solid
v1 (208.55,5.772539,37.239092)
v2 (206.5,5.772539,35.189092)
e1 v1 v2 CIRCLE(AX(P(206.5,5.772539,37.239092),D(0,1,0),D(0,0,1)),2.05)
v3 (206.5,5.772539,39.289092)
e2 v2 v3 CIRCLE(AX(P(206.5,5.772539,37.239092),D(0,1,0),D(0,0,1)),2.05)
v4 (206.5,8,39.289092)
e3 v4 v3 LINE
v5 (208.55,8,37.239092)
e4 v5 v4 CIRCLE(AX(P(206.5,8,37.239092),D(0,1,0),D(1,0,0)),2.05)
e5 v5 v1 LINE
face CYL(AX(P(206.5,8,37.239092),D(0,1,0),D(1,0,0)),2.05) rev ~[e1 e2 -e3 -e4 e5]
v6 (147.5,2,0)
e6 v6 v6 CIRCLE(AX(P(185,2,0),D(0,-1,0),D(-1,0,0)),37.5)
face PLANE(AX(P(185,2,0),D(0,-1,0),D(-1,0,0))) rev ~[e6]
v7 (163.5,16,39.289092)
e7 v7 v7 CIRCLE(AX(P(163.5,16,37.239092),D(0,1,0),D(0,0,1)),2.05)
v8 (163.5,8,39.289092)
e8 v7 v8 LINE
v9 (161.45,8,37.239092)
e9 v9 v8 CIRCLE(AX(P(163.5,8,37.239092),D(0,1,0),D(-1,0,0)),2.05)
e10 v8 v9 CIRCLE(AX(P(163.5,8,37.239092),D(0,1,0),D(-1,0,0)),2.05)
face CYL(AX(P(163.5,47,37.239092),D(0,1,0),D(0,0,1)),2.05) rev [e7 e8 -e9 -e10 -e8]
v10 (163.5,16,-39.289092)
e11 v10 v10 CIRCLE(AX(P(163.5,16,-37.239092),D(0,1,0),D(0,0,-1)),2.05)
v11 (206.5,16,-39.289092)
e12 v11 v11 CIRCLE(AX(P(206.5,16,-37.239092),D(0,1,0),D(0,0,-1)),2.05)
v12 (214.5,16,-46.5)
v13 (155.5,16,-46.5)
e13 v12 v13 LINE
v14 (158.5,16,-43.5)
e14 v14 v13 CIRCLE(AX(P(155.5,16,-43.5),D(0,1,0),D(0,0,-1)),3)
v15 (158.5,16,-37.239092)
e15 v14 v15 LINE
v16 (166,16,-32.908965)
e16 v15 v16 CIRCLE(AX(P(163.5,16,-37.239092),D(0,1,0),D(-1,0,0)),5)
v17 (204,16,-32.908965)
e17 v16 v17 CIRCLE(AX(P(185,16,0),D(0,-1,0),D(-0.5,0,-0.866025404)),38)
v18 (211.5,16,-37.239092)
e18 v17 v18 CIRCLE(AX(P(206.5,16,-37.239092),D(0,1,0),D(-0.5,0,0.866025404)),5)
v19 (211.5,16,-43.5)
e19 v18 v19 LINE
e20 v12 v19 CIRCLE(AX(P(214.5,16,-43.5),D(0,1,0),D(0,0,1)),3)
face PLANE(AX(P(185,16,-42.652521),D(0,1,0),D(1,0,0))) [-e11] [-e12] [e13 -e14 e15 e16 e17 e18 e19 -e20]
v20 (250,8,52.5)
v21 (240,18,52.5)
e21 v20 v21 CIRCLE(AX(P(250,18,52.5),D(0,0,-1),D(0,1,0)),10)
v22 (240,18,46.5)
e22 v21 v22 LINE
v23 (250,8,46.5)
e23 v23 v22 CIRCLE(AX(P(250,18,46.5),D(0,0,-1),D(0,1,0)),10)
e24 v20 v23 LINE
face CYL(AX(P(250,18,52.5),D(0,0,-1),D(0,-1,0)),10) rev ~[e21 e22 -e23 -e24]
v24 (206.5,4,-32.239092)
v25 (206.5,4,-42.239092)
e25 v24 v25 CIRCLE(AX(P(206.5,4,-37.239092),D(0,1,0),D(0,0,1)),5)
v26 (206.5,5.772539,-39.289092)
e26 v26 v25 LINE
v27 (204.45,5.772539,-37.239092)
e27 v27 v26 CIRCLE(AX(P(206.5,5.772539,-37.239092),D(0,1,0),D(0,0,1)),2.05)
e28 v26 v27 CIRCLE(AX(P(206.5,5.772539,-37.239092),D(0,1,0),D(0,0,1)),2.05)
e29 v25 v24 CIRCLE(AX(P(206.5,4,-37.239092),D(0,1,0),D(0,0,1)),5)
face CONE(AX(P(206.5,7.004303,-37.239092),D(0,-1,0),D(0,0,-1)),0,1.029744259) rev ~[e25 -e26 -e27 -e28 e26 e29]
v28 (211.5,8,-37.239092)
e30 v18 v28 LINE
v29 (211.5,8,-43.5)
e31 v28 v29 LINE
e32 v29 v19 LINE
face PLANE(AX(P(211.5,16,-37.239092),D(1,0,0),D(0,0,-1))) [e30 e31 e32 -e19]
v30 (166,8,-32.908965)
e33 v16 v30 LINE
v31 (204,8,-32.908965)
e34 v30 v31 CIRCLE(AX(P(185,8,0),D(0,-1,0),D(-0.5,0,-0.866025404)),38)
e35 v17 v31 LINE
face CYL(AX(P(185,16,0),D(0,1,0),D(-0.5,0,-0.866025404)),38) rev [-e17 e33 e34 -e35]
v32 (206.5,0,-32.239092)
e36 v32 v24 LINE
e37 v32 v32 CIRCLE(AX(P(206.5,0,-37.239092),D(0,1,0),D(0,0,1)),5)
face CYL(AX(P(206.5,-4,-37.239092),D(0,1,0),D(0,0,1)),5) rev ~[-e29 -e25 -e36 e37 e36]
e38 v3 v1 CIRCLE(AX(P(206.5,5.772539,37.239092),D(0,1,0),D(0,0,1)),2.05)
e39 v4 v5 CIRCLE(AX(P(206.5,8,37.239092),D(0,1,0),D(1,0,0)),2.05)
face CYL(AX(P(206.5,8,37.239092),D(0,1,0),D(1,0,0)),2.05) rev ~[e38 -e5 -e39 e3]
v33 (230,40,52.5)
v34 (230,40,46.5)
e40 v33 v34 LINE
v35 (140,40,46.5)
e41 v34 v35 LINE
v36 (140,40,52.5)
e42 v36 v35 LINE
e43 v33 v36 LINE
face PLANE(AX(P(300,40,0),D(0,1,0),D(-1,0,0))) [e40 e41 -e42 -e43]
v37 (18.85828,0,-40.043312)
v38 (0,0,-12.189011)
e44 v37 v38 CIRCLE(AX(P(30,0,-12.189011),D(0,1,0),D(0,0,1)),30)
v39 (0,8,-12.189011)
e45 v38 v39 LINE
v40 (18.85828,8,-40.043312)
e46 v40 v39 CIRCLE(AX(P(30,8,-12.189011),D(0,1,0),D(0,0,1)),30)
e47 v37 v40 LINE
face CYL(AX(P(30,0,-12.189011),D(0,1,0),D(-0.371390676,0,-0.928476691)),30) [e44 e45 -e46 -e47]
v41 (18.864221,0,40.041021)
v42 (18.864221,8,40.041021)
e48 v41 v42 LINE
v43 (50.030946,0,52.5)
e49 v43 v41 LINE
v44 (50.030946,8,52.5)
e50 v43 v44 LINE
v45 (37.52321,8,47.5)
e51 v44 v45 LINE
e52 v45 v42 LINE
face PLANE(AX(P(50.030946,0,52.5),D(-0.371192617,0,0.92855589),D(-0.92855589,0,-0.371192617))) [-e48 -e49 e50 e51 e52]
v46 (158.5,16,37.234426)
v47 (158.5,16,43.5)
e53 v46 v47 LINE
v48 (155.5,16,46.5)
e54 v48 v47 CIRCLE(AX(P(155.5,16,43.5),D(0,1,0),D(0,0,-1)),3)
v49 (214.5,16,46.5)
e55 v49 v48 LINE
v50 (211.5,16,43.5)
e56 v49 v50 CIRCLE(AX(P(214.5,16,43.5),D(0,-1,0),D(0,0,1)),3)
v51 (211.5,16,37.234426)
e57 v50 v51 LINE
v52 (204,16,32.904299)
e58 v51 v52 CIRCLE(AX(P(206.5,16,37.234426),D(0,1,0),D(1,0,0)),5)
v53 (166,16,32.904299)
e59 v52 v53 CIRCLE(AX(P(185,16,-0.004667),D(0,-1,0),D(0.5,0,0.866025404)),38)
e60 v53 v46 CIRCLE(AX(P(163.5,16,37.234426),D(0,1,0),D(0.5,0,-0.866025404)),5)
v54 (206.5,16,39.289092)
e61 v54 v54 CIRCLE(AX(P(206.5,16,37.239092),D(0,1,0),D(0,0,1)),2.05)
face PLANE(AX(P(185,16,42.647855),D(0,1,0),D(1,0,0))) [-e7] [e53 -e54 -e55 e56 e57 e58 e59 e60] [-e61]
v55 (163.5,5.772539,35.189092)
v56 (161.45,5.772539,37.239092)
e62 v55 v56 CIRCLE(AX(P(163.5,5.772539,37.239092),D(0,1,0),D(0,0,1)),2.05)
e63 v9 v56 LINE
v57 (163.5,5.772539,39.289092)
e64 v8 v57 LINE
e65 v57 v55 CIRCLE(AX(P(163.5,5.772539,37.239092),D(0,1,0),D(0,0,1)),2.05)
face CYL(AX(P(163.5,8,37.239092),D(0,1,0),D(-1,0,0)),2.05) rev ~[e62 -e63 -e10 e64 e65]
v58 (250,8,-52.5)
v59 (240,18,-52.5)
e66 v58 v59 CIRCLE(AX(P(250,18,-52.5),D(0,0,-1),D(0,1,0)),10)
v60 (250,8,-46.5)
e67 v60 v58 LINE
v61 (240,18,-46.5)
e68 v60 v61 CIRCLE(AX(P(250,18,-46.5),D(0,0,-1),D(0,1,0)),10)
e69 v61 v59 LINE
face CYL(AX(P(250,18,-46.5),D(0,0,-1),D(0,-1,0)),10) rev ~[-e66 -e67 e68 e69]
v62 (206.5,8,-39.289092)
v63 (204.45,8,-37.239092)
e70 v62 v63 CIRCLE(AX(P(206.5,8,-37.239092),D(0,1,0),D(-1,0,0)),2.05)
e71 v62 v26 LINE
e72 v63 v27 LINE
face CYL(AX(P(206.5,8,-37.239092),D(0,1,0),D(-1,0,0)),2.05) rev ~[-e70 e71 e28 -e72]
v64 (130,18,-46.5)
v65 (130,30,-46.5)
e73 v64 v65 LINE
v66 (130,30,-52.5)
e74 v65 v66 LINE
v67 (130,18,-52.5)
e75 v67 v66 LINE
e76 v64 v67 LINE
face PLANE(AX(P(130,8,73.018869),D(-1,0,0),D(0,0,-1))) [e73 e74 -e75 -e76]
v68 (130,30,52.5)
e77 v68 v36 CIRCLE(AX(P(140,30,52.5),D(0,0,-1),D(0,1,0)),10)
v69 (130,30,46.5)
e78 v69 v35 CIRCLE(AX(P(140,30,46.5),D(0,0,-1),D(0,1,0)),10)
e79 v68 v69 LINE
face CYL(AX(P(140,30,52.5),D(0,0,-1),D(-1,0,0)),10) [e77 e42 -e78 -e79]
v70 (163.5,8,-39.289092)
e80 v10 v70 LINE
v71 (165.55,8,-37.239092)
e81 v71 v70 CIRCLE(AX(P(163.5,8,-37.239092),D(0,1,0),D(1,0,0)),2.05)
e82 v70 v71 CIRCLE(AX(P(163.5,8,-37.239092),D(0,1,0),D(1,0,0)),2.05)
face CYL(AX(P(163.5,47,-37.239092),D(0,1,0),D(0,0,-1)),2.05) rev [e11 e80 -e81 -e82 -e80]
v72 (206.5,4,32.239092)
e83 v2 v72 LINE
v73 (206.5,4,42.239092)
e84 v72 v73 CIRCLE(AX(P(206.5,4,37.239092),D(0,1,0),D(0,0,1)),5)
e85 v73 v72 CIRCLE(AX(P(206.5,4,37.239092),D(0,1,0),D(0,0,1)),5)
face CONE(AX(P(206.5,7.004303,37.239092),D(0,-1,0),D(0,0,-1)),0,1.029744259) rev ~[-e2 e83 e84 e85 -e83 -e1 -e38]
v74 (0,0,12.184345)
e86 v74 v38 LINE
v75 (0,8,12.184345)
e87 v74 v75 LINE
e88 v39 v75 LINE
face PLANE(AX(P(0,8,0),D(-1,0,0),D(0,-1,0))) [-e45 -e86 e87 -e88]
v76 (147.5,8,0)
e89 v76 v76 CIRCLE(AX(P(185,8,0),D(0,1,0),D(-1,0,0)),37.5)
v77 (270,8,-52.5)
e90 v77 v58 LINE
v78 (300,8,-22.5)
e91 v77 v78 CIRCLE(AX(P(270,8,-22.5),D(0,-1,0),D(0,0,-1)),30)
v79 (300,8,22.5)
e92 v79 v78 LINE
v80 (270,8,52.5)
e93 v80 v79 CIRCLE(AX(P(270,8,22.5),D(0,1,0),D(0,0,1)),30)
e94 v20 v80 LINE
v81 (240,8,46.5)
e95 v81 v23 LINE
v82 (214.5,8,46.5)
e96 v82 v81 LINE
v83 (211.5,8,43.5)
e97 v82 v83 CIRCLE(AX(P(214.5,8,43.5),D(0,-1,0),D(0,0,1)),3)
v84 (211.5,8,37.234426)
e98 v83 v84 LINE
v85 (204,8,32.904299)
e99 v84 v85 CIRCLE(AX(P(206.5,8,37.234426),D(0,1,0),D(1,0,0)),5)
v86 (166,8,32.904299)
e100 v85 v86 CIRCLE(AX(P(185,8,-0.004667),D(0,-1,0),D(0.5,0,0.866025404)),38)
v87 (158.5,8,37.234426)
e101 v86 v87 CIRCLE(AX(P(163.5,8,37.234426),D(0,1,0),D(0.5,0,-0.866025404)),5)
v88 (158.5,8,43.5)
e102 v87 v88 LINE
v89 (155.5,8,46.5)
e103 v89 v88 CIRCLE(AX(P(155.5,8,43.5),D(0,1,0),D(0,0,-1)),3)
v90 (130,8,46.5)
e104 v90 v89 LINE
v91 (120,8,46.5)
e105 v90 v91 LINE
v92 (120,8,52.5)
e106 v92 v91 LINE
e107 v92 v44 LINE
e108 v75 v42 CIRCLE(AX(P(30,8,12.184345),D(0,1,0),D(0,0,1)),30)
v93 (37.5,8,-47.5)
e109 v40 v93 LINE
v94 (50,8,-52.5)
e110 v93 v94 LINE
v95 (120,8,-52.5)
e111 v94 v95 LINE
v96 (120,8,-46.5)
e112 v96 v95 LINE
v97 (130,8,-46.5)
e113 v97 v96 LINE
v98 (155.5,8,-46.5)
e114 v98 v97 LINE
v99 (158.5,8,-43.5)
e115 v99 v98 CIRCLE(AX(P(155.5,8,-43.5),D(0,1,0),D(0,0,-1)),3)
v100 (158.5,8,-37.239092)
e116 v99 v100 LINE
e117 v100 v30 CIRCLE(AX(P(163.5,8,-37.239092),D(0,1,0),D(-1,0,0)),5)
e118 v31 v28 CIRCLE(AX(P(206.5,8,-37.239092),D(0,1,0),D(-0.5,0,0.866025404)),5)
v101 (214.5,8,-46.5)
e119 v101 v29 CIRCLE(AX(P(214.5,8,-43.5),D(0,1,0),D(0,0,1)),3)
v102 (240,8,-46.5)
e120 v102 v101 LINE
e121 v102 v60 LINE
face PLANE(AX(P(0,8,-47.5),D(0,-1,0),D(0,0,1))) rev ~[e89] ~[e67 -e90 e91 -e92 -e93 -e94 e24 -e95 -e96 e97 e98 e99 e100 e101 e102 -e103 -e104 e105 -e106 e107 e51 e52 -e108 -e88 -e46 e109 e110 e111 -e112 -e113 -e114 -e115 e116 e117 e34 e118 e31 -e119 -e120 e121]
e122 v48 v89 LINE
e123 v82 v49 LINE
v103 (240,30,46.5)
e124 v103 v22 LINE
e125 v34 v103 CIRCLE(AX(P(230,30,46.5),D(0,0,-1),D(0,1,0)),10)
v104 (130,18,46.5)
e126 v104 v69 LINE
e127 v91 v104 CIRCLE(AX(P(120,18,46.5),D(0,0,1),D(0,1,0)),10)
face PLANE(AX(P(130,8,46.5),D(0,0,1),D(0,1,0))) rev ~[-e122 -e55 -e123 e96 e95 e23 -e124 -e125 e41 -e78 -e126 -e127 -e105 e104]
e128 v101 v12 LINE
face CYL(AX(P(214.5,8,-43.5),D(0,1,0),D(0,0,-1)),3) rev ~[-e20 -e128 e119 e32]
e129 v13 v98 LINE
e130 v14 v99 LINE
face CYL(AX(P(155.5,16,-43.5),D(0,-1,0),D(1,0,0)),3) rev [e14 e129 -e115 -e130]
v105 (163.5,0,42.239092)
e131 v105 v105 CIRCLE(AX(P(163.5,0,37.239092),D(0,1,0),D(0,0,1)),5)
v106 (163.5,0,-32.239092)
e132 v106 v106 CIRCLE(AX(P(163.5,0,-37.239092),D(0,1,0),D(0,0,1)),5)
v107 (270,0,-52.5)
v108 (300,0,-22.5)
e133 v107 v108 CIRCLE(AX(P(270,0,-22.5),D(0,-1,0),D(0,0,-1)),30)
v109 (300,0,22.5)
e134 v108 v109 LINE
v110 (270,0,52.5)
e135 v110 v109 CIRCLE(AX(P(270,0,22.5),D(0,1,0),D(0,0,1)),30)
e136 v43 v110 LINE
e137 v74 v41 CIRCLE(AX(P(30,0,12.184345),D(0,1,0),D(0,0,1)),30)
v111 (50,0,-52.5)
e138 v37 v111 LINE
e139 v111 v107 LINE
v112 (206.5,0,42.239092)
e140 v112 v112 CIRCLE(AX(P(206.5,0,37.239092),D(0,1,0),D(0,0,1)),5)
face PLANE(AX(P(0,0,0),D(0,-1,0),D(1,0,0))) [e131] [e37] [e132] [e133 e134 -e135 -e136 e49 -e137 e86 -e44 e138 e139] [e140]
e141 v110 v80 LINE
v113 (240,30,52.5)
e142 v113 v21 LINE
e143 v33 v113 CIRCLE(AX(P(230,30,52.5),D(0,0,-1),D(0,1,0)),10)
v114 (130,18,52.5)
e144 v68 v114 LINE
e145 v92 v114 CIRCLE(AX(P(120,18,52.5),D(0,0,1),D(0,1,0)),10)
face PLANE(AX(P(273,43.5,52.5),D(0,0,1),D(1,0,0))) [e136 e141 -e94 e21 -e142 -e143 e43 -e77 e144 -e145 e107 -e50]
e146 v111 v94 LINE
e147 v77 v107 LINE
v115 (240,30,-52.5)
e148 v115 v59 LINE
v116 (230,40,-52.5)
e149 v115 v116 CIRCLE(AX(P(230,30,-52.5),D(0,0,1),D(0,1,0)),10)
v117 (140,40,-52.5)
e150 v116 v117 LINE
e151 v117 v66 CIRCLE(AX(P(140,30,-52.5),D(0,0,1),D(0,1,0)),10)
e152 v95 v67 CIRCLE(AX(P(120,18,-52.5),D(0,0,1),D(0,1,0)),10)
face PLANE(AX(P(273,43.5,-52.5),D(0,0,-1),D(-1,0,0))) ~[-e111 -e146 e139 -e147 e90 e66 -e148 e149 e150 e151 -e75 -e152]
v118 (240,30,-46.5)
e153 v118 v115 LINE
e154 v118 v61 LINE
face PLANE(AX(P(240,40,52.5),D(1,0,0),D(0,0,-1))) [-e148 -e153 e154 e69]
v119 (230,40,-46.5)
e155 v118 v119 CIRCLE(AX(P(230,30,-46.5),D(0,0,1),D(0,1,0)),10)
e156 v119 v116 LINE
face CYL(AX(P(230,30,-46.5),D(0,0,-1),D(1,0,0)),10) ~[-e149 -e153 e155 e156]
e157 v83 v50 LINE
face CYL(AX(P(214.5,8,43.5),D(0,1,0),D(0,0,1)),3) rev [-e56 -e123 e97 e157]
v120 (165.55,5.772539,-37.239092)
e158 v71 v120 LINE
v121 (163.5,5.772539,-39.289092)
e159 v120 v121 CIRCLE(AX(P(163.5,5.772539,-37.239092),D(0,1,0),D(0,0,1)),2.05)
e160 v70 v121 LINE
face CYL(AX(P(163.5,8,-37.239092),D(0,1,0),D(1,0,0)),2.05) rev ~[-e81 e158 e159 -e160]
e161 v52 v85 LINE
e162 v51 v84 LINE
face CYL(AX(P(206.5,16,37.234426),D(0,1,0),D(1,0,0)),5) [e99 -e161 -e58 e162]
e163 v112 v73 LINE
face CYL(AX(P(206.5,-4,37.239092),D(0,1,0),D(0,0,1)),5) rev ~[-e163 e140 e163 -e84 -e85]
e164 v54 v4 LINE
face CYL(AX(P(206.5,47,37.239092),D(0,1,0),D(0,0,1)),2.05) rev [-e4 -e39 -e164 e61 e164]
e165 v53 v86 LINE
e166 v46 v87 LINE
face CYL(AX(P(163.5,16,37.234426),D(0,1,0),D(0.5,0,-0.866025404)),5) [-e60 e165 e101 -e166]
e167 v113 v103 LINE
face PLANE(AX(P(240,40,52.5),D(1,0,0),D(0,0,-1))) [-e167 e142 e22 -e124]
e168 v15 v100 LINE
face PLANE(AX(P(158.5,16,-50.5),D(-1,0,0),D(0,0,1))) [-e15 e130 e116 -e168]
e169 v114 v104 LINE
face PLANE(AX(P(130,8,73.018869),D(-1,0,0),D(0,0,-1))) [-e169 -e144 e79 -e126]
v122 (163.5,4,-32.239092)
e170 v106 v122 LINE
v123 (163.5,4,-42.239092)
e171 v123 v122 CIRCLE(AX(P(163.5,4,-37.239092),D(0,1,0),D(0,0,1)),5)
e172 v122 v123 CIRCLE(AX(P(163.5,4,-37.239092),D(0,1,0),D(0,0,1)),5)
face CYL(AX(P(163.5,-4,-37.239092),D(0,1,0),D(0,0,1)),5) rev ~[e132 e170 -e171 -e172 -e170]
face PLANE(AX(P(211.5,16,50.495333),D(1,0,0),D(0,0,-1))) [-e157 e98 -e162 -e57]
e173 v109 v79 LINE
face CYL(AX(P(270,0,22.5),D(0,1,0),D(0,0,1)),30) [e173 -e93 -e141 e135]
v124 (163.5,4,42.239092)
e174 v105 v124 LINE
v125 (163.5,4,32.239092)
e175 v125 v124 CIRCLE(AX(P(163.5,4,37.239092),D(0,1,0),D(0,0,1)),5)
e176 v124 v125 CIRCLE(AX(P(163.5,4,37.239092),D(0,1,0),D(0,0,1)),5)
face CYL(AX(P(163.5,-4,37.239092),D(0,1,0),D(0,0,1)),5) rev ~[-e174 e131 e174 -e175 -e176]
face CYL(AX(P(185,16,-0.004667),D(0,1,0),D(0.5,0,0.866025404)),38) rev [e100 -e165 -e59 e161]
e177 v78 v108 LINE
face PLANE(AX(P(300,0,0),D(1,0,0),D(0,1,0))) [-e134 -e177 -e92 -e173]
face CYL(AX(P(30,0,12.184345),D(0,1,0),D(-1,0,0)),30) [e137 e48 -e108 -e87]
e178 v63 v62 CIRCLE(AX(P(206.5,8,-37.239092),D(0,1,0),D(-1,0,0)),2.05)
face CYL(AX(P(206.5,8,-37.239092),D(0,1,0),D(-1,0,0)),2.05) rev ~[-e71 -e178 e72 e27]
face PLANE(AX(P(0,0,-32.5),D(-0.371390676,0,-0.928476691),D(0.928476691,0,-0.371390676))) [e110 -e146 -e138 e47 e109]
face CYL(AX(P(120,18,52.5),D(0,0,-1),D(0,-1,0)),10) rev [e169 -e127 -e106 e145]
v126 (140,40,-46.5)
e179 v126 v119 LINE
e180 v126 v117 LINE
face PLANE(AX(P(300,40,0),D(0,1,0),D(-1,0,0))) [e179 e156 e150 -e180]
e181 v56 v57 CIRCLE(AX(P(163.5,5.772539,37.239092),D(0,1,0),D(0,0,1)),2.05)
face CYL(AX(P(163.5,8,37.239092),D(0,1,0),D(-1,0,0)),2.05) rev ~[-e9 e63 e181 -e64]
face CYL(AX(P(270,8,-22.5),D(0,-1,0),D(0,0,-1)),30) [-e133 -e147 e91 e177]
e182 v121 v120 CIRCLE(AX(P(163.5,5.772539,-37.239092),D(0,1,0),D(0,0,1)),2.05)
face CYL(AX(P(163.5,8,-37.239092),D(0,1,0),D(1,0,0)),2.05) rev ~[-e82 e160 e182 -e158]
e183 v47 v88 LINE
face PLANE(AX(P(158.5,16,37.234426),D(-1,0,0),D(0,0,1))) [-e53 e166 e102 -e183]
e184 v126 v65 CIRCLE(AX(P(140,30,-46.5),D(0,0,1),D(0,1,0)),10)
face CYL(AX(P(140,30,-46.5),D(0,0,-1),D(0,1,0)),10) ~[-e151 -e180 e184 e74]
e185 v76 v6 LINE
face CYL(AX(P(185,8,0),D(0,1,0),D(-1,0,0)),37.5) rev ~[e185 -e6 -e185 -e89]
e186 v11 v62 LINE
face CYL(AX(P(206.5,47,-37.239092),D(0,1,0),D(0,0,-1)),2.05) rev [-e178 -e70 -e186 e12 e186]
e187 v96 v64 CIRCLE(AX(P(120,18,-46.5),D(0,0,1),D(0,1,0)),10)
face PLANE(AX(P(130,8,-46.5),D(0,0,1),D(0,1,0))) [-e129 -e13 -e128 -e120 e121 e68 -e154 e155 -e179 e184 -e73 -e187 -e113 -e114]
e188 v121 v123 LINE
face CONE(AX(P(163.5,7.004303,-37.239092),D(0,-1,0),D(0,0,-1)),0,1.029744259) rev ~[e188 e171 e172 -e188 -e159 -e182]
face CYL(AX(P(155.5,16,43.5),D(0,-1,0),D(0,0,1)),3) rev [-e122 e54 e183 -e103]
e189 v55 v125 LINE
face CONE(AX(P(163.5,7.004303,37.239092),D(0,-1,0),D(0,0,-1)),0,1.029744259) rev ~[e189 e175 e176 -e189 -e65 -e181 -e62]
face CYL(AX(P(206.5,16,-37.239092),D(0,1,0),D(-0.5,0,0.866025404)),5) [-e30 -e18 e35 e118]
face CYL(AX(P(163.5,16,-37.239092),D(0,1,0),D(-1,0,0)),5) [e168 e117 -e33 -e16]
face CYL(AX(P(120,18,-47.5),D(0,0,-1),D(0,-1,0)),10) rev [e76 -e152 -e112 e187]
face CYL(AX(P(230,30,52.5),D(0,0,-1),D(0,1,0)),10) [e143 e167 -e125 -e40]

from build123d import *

# Parameters (mm, degrees)
EXTRUDE_1_DEPTH        = 52.5
SKETCH_3_W             = 60
SKETCH_3_H             = 105
CUT_EXTRUDE_1_DEPTH    = 32
SKETCH_4_W             = 54
SKETCH_4_H             = 71
SKETCH_4_R             = 9.5
EXTRUDE_3_DEPTH        = 22.5
SKETCH_4_3_W           = 54
SKETCH_4_3_H           = 71
SKETCH_4_3_R           = 9.5
CUT_EXTRUDE_2_DEPTH    = 14.5
SKETCH_5_R             = 9.5
SKETCH_5_R_2           = 8
EXTRUDE_4_DEPTH        = 2
EXTRUDE_START          = -2
SKETCH_6_R             = 9.5
SKETCH_6_R_2           = 8
EXTRUDE_5_DEPTH        = 2
FILLET_1_R             = 14
FILLET_1_OF_MIRROR_2_R = 14
SKETCH_8_W             = 95
SKETCH_8_H             = 78.931088685
CUT_EXTRUDE_4_DEPTH    = 130
SKETCH_10_W            = 100
SKETCH_10_H            = 93
CUT_EXTRUDE_6_DEPTH    = 32
CUT_EXTRUDE_7_DEPTH    = 73
SKETCH_12_W            = 19.42301832
SKETCH_12_H            = 121.860085881
CUT_EXTRUDE_8_DEPTH    = 73
CUT_EXTRUDE_10_DEPTH   = 150
SKETCH_15_R            = 2.05
SKETCH_15_R_2          = 37.5
CUT_EXTRUDE_11_DEPTH   = 313.725518626
SKETCH_18_W            = 61.222247188
SKETCH_18_H            = 97.808163194
CUT_EXTRUDE_13_DEPTH   = 170
SKETCH_19_R            = 37.5
EXTRUDE_6_DEPTH        = 2
FILLET_2_R             = 30
SKETCH_21_W            = 132.10932858
SKETCH_21_H            = 125.518868867
CUT_EXTRUDE_15_DEPTH   = 149
MM_1_D                 = 10
MM_1_DEPTH             = 4
MM_1_TIP               = 3.004303095
SKETCH_23_W            = 93
SKETCH_23_H            = 32
CUT_EXTRUDE_16_DEPTH   = 149
FILLET_3_R             = 10
EXTRUDE_START_2        = 8
EXTRUDE_8_DEPTH        = 8
CUT_EXTRUDE_START      = -47
SKETCH_27_R            = 2.05
CUT_EXTRUDE_18_DEPTH   = 47
FILLET_4_R             = 3


with BuildPart() as part:
    # 草图1 → 凸台-拉伸1 (new, symmetric)
    with BuildSketch(Plane.XY):
        Polygon((0, 0), (300, 0), (300, 40), (130, 40), (0, 8), align=None)
    extrude(amount=EXTRUDE_1_DEPTH, both=True)

    # 草图3 → 切除-拉伸1 (cut)
    with BuildSketch(Plane(origin=(0, 40, 0), x_dir=(1, 0, 0), z_dir=(0, 1, 0))):
        with Locations((270, 0)):
            Rectangle(SKETCH_3_W, SKETCH_3_H)
    extrude(amount=-CUT_EXTRUDE_1_DEPTH, mode=Mode.SUBTRACT)

    # 草图4 → 凸台-拉伸3 (add, symmetric)
    with BuildSketch(Plane.XY.offset(30)):
        with Locations((273, 43.5)):
            Rectangle(SKETCH_4_W, SKETCH_4_H)
        with Locations(Location((260, 65, 0), (0, 0, 180))):
            Circle(SKETCH_4_R, mode=Mode.SUBTRACT)
    extrude_3 = extrude(amount=EXTRUDE_3_DEPTH, both=True)

    # 草图4<3> → 切除-拉伸2 (cut, symmetric)
    with BuildSketch(Plane.XY.offset(30)):
        with Locations((273, 43.5)):
            Rectangle(SKETCH_4_3_W, SKETCH_4_3_H)
        with Locations(Location((260, 65, 0), (0, 0, 180))):
            Circle(SKETCH_4_3_R, mode=Mode.SUBTRACT)
    cut_extrude_2 = extrude(amount=CUT_EXTRUDE_2_DEPTH, both=True, mode=Mode.SUBTRACT)

    # 草图5 → 凸台-拉伸4 (add)
    with BuildSketch(Plane(origin=(0, 0, 44.5), x_dir=(-1, 0, 0), z_dir=(0, 0, -1))):
        with Locations((-260, 65)):
            Circle(SKETCH_5_R)
        with Locations((-260, 65)):
            Circle(SKETCH_5_R_2, mode=Mode.SUBTRACT)
    extrude_4 = extrude(amount=-EXTRUDE_4_DEPTH)

    # 草图6 → 凸台-拉伸5 (add)
    with BuildSketch(Plane.XY.offset(15.5).offset(EXTRUDE_START)):
        with Locations(Location((260, 65, 0), (0, 0, 180))):
            Circle(SKETCH_6_R)
        with Locations(Location((260, 65, 0), (0, 0, 180))):
            Circle(SKETCH_6_R_2, mode=Mode.SUBTRACT)
    extrude_5 = extrude(amount=EXTRUDE_5_DEPTH)

    # 圆角1
    fillet_1_edges = [part.edges().sort_by_distance(p)[0] for p in [
        (246, 79, 48.5),
        (246, 79, 11.5),
    ]]
    fillet(fillet_1_edges, radius=FILLET_1_R)

    # 镜向2: 凸台-拉伸3, 切除-拉伸2, 凸台-拉伸4, 凸台-拉伸5 across plane
    add(extrude_3.mirror(Plane.XY))
    add(cut_extrude_2.mirror(Plane.XY), mode=Mode.SUBTRACT)
    add(extrude_4.mirror(Plane.XY))
    add(extrude_5.mirror(Plane.XY))

    # 圆角1 of 镜向2
    fillet_1_of_mirror_2_edges = [part.edges().sort_by_distance(p)[0] for p in [
        (246, 79, -48.5),
        (246, 79, -11.5),
    ]]
    fillet(fillet_1_of_mirror_2_edges, radius=FILLET_1_OF_MIRROR_2_R)

    # 草图8 → 切除-拉伸4 (cut)
    with BuildSketch(Plane.ZY):
        with Locations((0, 47.465544343)):
            Rectangle(SKETCH_8_W, SKETCH_8_H)
    extrude(amount=-CUT_EXTRUDE_4_DEPTH, mode=Mode.SUBTRACT)

    # 草图10 → 切除-拉伸6 (cut)
    with BuildSketch(Plane(origin=(0, 40, 0), x_dir=(1, 0, 0), z_dir=(0, 1, 0))):
        with Locations((185, 0)):
            Rectangle(SKETCH_10_W, SKETCH_10_H)
    extrude(amount=-CUT_EXTRUDE_6_DEPTH, mode=Mode.SUBTRACT)

    # 草图11 → 切除-拉伸7 (cut)
    with BuildSketch(Plane.XZ):
        Polygon((-14.613233699, 52.5), (50.030946001, 52.5), (0, 32.5), (0, -32.5), (50, -52.5), (-14.613233699, -52.5), align=None)
    extrude(amount=-CUT_EXTRUDE_7_DEPTH, mode=Mode.SUBTRACT)

    # 草图12 → 切除-拉伸8 (cut)
    with BuildSketch(Plane(origin=(0, 8, 0), x_dir=(1, 0, 0), z_dir=(0, 1, 0))):
        with Locations((40.28849084, -8.430042941)):
            Rectangle(SKETCH_12_W, SKETCH_12_H)
    extrude(amount=CUT_EXTRUDE_8_DEPTH, mode=Mode.SUBTRACT)

    # 草图14 → 切除-拉伸10 (cut, symmetric)
    with BuildSketch(Plane.XY.offset(52.5)):
        with BuildLine():
            Line((275.075376069, 79), (318.037843951, 79))
            Line((318.037843951, 79), (300, 8))
            ThreePointArc((300, 8), (292.070381124, 45.091206629), (275.075376069, 79))
        make_face()
    extrude(amount=CUT_EXTRUDE_10_DEPTH, both=True, mode=Mode.SUBTRACT)

    # 草图15 → 切除-拉伸11 (cut, through all)
    with BuildSketch(Plane(origin=(0, 8, 0), x_dir=(1, 0, 0), z_dir=(0, 1, 0))):
        with Locations(Location((163.5, -37.239092363, 0), (0, 0, 180))):
            Circle(SKETCH_15_R)
        with Locations((163.5, 37.239092363)):
            Circle(SKETCH_15_R)
        with Locations(Location((206.5, 37.239092363, 0), (0, 0, 180))):
            Circle(SKETCH_15_R)
        with Locations((206.5, -37.239092363)):
            Circle(SKETCH_15_R)
        with Locations(Location((185, 0, 0), (0, 0, 180))):
            Circle(SKETCH_15_R_2)
    extrude(amount=-CUT_EXTRUDE_11_DEPTH, mode=Mode.SUBTRACT)

    # 草图18 → 切除-拉伸13 (cut)
    with BuildSketch(Plane.XY.offset(52.5)):
        with Locations((276.611123594, 56.904081597)):
            Rectangle(SKETCH_18_W, SKETCH_18_H)
    extrude(amount=-CUT_EXTRUDE_13_DEPTH, mode=Mode.SUBTRACT)

    # 草图19 → 凸台-拉伸6 (add)
    with BuildSketch(Plane.XZ.offset(EXTRUDE_START)):
        with Locations(Location((185, 0, 0), (0, 0, 180))):
            Circle(SKETCH_19_R)
    extrude(amount=EXTRUDE_6_DEPTH)

    # 圆角2
    fillet_2_edges = [part.edges().sort_by_distance(p)[0] for p in [
        (300, 4, 52.5),
        (0, 4, 32.5),
        (0, 4, -32.5),
        (300, 4, -52.5),
    ]]
    fillet(fillet_2_edges, radius=FILLET_2_R)

    # 草图21 → 切除-拉伸15 (cut)
    with BuildSketch(Plane(origin=(0, 8, 0), x_dir=(1, 0, 0), z_dir=(0, 1, 0))):
        with Locations((63.94533571, -10.259434434)):
            Rectangle(SKETCH_21_W, SKETCH_21_H)
    extrude(amount=CUT_EXTRUDE_15_DEPTH, mode=Mode.SUBTRACT)

    # 大小mm 暗销孔1
    with Locations(Plane(origin=(163.5, 0, 37.239092363), x_dir=(0, 0, -1), z_dir=(0, -1, 0))):
        with Locations((0, 0), (0, 43), (74.478184726, 43), (74.478184726, 0)):
            Hole(MM_1_D / 2, depth=MM_1_DEPTH)
            with Locations((0, 0, -(MM_1_DEPTH + MM_1_TIP / 2))):  # 118° drill point
                Cone(0, MM_1_D / 2, MM_1_TIP, mode=Mode.SUBTRACT)

    # 草图23 → 切除-拉伸16 (cut)
    with BuildSketch(Plane.ZY.offset(-130)):
        with Locations((0, 24)):
            Rectangle(SKETCH_23_W, SKETCH_23_H)
    extrude(amount=-CUT_EXTRUDE_16_DEPTH, mode=Mode.SUBTRACT)

    # 圆角3
    fillet_3_edges = [part.edges().sort_by_distance(p)[0] for p in [
        (130, 8, -49.5),
        (240, 40, -49.5),
        (240, 8, 49.5),
        (130, 8, 49.5),
        (130, 40, -49.5),
        (240, 8, -49.5),
        (240, 40, 49.5),
        (130, 40, 49.5),
    ]]
    fillet(fillet_3_edges, radius=FILLET_3_R)

    # 草图26 → 凸台-拉伸8 (add)
    with BuildSketch(Plane(origin=(0, 8, 0), x_dir=(1, 0, 0), z_dir=(0, 1, 0)).offset(EXTRUDE_START_2)):
        with BuildLine():
            Line((158.5, 46.5), (158.5, 37.239092363))
            ThreePointArc((158.5, 37.239092363), (161, 32.908965344), (166, 32.908965344))
            ThreePointArc((166, 32.908965344), (185, 38), (204, 32.908965344))
            ThreePointArc((204, 32.908965344), (209, 32.908965344), (211.5, 37.239092363))
            Line((211.5, 37.239092363), (211.5, 46.5))
            Line((211.5, 46.5), (211.5, 50.5))
            Line((211.5, 50.5), (158.5, 50.5))
            Line((158.5, 50.5), (158.5, 46.5))
        make_face()
        with BuildLine():
            Line((211.5, -46.495333446), (211.5, -37.234425809))
            ThreePointArc((211.5, -37.234425809), (209, -32.90429879), (204, -32.90429879))
            ThreePointArc((204, -32.90429879), (185, -37.995333446), (166, -32.90429879))
            ThreePointArc((166, -32.90429879), (161, -32.90429879), (158.5, -37.234425809))
            Line((158.5, -37.234425809), (158.5, -46.495333446))
            Line((158.5, -46.495333446), (158.5, -50.495333446))
            Line((158.5, -50.495333446), (211.5, -50.495333446))
            Line((211.5, -50.495333446), (211.5, -46.495333446))
        make_face()
    extrude(amount=-EXTRUDE_8_DEPTH)

    # 草图27 → 切除-拉伸18 (cut)
    with BuildSketch(Plane.XZ.offset(CUT_EXTRUDE_START)):
        with Locations(Location((206.5, -37.239092363, 0), (0, 0, 270))):
            Circle(SKETCH_27_R)
        with Locations(Location((163.5, -37.239092363, 0), (0, 0, 270))):
            Circle(SKETCH_27_R)
        with Locations(Location((163.5, 37.239092363, 0), (0, 0, 90))):
            Circle(SKETCH_27_R)
        with Locations(Location((206.5, 37.239092363, 0), (0, 0, 90))):
            Circle(SKETCH_27_R)
    extrude(amount=CUT_EXTRUDE_18_DEPTH, mode=Mode.SUBTRACT)

    # 圆角4
    fillet_4_edges = [part.edges().sort_by_distance(p)[0] for p in [
        (211.5, 12, -46.5),
        (158.5, 12, -46.5),
        (211.5, 12, 46.5),
        (158.5, 12, 46.5),
    ]]
    fillet(fillet_4_edges, radius=FILLET_4_R)


solid = part.part
